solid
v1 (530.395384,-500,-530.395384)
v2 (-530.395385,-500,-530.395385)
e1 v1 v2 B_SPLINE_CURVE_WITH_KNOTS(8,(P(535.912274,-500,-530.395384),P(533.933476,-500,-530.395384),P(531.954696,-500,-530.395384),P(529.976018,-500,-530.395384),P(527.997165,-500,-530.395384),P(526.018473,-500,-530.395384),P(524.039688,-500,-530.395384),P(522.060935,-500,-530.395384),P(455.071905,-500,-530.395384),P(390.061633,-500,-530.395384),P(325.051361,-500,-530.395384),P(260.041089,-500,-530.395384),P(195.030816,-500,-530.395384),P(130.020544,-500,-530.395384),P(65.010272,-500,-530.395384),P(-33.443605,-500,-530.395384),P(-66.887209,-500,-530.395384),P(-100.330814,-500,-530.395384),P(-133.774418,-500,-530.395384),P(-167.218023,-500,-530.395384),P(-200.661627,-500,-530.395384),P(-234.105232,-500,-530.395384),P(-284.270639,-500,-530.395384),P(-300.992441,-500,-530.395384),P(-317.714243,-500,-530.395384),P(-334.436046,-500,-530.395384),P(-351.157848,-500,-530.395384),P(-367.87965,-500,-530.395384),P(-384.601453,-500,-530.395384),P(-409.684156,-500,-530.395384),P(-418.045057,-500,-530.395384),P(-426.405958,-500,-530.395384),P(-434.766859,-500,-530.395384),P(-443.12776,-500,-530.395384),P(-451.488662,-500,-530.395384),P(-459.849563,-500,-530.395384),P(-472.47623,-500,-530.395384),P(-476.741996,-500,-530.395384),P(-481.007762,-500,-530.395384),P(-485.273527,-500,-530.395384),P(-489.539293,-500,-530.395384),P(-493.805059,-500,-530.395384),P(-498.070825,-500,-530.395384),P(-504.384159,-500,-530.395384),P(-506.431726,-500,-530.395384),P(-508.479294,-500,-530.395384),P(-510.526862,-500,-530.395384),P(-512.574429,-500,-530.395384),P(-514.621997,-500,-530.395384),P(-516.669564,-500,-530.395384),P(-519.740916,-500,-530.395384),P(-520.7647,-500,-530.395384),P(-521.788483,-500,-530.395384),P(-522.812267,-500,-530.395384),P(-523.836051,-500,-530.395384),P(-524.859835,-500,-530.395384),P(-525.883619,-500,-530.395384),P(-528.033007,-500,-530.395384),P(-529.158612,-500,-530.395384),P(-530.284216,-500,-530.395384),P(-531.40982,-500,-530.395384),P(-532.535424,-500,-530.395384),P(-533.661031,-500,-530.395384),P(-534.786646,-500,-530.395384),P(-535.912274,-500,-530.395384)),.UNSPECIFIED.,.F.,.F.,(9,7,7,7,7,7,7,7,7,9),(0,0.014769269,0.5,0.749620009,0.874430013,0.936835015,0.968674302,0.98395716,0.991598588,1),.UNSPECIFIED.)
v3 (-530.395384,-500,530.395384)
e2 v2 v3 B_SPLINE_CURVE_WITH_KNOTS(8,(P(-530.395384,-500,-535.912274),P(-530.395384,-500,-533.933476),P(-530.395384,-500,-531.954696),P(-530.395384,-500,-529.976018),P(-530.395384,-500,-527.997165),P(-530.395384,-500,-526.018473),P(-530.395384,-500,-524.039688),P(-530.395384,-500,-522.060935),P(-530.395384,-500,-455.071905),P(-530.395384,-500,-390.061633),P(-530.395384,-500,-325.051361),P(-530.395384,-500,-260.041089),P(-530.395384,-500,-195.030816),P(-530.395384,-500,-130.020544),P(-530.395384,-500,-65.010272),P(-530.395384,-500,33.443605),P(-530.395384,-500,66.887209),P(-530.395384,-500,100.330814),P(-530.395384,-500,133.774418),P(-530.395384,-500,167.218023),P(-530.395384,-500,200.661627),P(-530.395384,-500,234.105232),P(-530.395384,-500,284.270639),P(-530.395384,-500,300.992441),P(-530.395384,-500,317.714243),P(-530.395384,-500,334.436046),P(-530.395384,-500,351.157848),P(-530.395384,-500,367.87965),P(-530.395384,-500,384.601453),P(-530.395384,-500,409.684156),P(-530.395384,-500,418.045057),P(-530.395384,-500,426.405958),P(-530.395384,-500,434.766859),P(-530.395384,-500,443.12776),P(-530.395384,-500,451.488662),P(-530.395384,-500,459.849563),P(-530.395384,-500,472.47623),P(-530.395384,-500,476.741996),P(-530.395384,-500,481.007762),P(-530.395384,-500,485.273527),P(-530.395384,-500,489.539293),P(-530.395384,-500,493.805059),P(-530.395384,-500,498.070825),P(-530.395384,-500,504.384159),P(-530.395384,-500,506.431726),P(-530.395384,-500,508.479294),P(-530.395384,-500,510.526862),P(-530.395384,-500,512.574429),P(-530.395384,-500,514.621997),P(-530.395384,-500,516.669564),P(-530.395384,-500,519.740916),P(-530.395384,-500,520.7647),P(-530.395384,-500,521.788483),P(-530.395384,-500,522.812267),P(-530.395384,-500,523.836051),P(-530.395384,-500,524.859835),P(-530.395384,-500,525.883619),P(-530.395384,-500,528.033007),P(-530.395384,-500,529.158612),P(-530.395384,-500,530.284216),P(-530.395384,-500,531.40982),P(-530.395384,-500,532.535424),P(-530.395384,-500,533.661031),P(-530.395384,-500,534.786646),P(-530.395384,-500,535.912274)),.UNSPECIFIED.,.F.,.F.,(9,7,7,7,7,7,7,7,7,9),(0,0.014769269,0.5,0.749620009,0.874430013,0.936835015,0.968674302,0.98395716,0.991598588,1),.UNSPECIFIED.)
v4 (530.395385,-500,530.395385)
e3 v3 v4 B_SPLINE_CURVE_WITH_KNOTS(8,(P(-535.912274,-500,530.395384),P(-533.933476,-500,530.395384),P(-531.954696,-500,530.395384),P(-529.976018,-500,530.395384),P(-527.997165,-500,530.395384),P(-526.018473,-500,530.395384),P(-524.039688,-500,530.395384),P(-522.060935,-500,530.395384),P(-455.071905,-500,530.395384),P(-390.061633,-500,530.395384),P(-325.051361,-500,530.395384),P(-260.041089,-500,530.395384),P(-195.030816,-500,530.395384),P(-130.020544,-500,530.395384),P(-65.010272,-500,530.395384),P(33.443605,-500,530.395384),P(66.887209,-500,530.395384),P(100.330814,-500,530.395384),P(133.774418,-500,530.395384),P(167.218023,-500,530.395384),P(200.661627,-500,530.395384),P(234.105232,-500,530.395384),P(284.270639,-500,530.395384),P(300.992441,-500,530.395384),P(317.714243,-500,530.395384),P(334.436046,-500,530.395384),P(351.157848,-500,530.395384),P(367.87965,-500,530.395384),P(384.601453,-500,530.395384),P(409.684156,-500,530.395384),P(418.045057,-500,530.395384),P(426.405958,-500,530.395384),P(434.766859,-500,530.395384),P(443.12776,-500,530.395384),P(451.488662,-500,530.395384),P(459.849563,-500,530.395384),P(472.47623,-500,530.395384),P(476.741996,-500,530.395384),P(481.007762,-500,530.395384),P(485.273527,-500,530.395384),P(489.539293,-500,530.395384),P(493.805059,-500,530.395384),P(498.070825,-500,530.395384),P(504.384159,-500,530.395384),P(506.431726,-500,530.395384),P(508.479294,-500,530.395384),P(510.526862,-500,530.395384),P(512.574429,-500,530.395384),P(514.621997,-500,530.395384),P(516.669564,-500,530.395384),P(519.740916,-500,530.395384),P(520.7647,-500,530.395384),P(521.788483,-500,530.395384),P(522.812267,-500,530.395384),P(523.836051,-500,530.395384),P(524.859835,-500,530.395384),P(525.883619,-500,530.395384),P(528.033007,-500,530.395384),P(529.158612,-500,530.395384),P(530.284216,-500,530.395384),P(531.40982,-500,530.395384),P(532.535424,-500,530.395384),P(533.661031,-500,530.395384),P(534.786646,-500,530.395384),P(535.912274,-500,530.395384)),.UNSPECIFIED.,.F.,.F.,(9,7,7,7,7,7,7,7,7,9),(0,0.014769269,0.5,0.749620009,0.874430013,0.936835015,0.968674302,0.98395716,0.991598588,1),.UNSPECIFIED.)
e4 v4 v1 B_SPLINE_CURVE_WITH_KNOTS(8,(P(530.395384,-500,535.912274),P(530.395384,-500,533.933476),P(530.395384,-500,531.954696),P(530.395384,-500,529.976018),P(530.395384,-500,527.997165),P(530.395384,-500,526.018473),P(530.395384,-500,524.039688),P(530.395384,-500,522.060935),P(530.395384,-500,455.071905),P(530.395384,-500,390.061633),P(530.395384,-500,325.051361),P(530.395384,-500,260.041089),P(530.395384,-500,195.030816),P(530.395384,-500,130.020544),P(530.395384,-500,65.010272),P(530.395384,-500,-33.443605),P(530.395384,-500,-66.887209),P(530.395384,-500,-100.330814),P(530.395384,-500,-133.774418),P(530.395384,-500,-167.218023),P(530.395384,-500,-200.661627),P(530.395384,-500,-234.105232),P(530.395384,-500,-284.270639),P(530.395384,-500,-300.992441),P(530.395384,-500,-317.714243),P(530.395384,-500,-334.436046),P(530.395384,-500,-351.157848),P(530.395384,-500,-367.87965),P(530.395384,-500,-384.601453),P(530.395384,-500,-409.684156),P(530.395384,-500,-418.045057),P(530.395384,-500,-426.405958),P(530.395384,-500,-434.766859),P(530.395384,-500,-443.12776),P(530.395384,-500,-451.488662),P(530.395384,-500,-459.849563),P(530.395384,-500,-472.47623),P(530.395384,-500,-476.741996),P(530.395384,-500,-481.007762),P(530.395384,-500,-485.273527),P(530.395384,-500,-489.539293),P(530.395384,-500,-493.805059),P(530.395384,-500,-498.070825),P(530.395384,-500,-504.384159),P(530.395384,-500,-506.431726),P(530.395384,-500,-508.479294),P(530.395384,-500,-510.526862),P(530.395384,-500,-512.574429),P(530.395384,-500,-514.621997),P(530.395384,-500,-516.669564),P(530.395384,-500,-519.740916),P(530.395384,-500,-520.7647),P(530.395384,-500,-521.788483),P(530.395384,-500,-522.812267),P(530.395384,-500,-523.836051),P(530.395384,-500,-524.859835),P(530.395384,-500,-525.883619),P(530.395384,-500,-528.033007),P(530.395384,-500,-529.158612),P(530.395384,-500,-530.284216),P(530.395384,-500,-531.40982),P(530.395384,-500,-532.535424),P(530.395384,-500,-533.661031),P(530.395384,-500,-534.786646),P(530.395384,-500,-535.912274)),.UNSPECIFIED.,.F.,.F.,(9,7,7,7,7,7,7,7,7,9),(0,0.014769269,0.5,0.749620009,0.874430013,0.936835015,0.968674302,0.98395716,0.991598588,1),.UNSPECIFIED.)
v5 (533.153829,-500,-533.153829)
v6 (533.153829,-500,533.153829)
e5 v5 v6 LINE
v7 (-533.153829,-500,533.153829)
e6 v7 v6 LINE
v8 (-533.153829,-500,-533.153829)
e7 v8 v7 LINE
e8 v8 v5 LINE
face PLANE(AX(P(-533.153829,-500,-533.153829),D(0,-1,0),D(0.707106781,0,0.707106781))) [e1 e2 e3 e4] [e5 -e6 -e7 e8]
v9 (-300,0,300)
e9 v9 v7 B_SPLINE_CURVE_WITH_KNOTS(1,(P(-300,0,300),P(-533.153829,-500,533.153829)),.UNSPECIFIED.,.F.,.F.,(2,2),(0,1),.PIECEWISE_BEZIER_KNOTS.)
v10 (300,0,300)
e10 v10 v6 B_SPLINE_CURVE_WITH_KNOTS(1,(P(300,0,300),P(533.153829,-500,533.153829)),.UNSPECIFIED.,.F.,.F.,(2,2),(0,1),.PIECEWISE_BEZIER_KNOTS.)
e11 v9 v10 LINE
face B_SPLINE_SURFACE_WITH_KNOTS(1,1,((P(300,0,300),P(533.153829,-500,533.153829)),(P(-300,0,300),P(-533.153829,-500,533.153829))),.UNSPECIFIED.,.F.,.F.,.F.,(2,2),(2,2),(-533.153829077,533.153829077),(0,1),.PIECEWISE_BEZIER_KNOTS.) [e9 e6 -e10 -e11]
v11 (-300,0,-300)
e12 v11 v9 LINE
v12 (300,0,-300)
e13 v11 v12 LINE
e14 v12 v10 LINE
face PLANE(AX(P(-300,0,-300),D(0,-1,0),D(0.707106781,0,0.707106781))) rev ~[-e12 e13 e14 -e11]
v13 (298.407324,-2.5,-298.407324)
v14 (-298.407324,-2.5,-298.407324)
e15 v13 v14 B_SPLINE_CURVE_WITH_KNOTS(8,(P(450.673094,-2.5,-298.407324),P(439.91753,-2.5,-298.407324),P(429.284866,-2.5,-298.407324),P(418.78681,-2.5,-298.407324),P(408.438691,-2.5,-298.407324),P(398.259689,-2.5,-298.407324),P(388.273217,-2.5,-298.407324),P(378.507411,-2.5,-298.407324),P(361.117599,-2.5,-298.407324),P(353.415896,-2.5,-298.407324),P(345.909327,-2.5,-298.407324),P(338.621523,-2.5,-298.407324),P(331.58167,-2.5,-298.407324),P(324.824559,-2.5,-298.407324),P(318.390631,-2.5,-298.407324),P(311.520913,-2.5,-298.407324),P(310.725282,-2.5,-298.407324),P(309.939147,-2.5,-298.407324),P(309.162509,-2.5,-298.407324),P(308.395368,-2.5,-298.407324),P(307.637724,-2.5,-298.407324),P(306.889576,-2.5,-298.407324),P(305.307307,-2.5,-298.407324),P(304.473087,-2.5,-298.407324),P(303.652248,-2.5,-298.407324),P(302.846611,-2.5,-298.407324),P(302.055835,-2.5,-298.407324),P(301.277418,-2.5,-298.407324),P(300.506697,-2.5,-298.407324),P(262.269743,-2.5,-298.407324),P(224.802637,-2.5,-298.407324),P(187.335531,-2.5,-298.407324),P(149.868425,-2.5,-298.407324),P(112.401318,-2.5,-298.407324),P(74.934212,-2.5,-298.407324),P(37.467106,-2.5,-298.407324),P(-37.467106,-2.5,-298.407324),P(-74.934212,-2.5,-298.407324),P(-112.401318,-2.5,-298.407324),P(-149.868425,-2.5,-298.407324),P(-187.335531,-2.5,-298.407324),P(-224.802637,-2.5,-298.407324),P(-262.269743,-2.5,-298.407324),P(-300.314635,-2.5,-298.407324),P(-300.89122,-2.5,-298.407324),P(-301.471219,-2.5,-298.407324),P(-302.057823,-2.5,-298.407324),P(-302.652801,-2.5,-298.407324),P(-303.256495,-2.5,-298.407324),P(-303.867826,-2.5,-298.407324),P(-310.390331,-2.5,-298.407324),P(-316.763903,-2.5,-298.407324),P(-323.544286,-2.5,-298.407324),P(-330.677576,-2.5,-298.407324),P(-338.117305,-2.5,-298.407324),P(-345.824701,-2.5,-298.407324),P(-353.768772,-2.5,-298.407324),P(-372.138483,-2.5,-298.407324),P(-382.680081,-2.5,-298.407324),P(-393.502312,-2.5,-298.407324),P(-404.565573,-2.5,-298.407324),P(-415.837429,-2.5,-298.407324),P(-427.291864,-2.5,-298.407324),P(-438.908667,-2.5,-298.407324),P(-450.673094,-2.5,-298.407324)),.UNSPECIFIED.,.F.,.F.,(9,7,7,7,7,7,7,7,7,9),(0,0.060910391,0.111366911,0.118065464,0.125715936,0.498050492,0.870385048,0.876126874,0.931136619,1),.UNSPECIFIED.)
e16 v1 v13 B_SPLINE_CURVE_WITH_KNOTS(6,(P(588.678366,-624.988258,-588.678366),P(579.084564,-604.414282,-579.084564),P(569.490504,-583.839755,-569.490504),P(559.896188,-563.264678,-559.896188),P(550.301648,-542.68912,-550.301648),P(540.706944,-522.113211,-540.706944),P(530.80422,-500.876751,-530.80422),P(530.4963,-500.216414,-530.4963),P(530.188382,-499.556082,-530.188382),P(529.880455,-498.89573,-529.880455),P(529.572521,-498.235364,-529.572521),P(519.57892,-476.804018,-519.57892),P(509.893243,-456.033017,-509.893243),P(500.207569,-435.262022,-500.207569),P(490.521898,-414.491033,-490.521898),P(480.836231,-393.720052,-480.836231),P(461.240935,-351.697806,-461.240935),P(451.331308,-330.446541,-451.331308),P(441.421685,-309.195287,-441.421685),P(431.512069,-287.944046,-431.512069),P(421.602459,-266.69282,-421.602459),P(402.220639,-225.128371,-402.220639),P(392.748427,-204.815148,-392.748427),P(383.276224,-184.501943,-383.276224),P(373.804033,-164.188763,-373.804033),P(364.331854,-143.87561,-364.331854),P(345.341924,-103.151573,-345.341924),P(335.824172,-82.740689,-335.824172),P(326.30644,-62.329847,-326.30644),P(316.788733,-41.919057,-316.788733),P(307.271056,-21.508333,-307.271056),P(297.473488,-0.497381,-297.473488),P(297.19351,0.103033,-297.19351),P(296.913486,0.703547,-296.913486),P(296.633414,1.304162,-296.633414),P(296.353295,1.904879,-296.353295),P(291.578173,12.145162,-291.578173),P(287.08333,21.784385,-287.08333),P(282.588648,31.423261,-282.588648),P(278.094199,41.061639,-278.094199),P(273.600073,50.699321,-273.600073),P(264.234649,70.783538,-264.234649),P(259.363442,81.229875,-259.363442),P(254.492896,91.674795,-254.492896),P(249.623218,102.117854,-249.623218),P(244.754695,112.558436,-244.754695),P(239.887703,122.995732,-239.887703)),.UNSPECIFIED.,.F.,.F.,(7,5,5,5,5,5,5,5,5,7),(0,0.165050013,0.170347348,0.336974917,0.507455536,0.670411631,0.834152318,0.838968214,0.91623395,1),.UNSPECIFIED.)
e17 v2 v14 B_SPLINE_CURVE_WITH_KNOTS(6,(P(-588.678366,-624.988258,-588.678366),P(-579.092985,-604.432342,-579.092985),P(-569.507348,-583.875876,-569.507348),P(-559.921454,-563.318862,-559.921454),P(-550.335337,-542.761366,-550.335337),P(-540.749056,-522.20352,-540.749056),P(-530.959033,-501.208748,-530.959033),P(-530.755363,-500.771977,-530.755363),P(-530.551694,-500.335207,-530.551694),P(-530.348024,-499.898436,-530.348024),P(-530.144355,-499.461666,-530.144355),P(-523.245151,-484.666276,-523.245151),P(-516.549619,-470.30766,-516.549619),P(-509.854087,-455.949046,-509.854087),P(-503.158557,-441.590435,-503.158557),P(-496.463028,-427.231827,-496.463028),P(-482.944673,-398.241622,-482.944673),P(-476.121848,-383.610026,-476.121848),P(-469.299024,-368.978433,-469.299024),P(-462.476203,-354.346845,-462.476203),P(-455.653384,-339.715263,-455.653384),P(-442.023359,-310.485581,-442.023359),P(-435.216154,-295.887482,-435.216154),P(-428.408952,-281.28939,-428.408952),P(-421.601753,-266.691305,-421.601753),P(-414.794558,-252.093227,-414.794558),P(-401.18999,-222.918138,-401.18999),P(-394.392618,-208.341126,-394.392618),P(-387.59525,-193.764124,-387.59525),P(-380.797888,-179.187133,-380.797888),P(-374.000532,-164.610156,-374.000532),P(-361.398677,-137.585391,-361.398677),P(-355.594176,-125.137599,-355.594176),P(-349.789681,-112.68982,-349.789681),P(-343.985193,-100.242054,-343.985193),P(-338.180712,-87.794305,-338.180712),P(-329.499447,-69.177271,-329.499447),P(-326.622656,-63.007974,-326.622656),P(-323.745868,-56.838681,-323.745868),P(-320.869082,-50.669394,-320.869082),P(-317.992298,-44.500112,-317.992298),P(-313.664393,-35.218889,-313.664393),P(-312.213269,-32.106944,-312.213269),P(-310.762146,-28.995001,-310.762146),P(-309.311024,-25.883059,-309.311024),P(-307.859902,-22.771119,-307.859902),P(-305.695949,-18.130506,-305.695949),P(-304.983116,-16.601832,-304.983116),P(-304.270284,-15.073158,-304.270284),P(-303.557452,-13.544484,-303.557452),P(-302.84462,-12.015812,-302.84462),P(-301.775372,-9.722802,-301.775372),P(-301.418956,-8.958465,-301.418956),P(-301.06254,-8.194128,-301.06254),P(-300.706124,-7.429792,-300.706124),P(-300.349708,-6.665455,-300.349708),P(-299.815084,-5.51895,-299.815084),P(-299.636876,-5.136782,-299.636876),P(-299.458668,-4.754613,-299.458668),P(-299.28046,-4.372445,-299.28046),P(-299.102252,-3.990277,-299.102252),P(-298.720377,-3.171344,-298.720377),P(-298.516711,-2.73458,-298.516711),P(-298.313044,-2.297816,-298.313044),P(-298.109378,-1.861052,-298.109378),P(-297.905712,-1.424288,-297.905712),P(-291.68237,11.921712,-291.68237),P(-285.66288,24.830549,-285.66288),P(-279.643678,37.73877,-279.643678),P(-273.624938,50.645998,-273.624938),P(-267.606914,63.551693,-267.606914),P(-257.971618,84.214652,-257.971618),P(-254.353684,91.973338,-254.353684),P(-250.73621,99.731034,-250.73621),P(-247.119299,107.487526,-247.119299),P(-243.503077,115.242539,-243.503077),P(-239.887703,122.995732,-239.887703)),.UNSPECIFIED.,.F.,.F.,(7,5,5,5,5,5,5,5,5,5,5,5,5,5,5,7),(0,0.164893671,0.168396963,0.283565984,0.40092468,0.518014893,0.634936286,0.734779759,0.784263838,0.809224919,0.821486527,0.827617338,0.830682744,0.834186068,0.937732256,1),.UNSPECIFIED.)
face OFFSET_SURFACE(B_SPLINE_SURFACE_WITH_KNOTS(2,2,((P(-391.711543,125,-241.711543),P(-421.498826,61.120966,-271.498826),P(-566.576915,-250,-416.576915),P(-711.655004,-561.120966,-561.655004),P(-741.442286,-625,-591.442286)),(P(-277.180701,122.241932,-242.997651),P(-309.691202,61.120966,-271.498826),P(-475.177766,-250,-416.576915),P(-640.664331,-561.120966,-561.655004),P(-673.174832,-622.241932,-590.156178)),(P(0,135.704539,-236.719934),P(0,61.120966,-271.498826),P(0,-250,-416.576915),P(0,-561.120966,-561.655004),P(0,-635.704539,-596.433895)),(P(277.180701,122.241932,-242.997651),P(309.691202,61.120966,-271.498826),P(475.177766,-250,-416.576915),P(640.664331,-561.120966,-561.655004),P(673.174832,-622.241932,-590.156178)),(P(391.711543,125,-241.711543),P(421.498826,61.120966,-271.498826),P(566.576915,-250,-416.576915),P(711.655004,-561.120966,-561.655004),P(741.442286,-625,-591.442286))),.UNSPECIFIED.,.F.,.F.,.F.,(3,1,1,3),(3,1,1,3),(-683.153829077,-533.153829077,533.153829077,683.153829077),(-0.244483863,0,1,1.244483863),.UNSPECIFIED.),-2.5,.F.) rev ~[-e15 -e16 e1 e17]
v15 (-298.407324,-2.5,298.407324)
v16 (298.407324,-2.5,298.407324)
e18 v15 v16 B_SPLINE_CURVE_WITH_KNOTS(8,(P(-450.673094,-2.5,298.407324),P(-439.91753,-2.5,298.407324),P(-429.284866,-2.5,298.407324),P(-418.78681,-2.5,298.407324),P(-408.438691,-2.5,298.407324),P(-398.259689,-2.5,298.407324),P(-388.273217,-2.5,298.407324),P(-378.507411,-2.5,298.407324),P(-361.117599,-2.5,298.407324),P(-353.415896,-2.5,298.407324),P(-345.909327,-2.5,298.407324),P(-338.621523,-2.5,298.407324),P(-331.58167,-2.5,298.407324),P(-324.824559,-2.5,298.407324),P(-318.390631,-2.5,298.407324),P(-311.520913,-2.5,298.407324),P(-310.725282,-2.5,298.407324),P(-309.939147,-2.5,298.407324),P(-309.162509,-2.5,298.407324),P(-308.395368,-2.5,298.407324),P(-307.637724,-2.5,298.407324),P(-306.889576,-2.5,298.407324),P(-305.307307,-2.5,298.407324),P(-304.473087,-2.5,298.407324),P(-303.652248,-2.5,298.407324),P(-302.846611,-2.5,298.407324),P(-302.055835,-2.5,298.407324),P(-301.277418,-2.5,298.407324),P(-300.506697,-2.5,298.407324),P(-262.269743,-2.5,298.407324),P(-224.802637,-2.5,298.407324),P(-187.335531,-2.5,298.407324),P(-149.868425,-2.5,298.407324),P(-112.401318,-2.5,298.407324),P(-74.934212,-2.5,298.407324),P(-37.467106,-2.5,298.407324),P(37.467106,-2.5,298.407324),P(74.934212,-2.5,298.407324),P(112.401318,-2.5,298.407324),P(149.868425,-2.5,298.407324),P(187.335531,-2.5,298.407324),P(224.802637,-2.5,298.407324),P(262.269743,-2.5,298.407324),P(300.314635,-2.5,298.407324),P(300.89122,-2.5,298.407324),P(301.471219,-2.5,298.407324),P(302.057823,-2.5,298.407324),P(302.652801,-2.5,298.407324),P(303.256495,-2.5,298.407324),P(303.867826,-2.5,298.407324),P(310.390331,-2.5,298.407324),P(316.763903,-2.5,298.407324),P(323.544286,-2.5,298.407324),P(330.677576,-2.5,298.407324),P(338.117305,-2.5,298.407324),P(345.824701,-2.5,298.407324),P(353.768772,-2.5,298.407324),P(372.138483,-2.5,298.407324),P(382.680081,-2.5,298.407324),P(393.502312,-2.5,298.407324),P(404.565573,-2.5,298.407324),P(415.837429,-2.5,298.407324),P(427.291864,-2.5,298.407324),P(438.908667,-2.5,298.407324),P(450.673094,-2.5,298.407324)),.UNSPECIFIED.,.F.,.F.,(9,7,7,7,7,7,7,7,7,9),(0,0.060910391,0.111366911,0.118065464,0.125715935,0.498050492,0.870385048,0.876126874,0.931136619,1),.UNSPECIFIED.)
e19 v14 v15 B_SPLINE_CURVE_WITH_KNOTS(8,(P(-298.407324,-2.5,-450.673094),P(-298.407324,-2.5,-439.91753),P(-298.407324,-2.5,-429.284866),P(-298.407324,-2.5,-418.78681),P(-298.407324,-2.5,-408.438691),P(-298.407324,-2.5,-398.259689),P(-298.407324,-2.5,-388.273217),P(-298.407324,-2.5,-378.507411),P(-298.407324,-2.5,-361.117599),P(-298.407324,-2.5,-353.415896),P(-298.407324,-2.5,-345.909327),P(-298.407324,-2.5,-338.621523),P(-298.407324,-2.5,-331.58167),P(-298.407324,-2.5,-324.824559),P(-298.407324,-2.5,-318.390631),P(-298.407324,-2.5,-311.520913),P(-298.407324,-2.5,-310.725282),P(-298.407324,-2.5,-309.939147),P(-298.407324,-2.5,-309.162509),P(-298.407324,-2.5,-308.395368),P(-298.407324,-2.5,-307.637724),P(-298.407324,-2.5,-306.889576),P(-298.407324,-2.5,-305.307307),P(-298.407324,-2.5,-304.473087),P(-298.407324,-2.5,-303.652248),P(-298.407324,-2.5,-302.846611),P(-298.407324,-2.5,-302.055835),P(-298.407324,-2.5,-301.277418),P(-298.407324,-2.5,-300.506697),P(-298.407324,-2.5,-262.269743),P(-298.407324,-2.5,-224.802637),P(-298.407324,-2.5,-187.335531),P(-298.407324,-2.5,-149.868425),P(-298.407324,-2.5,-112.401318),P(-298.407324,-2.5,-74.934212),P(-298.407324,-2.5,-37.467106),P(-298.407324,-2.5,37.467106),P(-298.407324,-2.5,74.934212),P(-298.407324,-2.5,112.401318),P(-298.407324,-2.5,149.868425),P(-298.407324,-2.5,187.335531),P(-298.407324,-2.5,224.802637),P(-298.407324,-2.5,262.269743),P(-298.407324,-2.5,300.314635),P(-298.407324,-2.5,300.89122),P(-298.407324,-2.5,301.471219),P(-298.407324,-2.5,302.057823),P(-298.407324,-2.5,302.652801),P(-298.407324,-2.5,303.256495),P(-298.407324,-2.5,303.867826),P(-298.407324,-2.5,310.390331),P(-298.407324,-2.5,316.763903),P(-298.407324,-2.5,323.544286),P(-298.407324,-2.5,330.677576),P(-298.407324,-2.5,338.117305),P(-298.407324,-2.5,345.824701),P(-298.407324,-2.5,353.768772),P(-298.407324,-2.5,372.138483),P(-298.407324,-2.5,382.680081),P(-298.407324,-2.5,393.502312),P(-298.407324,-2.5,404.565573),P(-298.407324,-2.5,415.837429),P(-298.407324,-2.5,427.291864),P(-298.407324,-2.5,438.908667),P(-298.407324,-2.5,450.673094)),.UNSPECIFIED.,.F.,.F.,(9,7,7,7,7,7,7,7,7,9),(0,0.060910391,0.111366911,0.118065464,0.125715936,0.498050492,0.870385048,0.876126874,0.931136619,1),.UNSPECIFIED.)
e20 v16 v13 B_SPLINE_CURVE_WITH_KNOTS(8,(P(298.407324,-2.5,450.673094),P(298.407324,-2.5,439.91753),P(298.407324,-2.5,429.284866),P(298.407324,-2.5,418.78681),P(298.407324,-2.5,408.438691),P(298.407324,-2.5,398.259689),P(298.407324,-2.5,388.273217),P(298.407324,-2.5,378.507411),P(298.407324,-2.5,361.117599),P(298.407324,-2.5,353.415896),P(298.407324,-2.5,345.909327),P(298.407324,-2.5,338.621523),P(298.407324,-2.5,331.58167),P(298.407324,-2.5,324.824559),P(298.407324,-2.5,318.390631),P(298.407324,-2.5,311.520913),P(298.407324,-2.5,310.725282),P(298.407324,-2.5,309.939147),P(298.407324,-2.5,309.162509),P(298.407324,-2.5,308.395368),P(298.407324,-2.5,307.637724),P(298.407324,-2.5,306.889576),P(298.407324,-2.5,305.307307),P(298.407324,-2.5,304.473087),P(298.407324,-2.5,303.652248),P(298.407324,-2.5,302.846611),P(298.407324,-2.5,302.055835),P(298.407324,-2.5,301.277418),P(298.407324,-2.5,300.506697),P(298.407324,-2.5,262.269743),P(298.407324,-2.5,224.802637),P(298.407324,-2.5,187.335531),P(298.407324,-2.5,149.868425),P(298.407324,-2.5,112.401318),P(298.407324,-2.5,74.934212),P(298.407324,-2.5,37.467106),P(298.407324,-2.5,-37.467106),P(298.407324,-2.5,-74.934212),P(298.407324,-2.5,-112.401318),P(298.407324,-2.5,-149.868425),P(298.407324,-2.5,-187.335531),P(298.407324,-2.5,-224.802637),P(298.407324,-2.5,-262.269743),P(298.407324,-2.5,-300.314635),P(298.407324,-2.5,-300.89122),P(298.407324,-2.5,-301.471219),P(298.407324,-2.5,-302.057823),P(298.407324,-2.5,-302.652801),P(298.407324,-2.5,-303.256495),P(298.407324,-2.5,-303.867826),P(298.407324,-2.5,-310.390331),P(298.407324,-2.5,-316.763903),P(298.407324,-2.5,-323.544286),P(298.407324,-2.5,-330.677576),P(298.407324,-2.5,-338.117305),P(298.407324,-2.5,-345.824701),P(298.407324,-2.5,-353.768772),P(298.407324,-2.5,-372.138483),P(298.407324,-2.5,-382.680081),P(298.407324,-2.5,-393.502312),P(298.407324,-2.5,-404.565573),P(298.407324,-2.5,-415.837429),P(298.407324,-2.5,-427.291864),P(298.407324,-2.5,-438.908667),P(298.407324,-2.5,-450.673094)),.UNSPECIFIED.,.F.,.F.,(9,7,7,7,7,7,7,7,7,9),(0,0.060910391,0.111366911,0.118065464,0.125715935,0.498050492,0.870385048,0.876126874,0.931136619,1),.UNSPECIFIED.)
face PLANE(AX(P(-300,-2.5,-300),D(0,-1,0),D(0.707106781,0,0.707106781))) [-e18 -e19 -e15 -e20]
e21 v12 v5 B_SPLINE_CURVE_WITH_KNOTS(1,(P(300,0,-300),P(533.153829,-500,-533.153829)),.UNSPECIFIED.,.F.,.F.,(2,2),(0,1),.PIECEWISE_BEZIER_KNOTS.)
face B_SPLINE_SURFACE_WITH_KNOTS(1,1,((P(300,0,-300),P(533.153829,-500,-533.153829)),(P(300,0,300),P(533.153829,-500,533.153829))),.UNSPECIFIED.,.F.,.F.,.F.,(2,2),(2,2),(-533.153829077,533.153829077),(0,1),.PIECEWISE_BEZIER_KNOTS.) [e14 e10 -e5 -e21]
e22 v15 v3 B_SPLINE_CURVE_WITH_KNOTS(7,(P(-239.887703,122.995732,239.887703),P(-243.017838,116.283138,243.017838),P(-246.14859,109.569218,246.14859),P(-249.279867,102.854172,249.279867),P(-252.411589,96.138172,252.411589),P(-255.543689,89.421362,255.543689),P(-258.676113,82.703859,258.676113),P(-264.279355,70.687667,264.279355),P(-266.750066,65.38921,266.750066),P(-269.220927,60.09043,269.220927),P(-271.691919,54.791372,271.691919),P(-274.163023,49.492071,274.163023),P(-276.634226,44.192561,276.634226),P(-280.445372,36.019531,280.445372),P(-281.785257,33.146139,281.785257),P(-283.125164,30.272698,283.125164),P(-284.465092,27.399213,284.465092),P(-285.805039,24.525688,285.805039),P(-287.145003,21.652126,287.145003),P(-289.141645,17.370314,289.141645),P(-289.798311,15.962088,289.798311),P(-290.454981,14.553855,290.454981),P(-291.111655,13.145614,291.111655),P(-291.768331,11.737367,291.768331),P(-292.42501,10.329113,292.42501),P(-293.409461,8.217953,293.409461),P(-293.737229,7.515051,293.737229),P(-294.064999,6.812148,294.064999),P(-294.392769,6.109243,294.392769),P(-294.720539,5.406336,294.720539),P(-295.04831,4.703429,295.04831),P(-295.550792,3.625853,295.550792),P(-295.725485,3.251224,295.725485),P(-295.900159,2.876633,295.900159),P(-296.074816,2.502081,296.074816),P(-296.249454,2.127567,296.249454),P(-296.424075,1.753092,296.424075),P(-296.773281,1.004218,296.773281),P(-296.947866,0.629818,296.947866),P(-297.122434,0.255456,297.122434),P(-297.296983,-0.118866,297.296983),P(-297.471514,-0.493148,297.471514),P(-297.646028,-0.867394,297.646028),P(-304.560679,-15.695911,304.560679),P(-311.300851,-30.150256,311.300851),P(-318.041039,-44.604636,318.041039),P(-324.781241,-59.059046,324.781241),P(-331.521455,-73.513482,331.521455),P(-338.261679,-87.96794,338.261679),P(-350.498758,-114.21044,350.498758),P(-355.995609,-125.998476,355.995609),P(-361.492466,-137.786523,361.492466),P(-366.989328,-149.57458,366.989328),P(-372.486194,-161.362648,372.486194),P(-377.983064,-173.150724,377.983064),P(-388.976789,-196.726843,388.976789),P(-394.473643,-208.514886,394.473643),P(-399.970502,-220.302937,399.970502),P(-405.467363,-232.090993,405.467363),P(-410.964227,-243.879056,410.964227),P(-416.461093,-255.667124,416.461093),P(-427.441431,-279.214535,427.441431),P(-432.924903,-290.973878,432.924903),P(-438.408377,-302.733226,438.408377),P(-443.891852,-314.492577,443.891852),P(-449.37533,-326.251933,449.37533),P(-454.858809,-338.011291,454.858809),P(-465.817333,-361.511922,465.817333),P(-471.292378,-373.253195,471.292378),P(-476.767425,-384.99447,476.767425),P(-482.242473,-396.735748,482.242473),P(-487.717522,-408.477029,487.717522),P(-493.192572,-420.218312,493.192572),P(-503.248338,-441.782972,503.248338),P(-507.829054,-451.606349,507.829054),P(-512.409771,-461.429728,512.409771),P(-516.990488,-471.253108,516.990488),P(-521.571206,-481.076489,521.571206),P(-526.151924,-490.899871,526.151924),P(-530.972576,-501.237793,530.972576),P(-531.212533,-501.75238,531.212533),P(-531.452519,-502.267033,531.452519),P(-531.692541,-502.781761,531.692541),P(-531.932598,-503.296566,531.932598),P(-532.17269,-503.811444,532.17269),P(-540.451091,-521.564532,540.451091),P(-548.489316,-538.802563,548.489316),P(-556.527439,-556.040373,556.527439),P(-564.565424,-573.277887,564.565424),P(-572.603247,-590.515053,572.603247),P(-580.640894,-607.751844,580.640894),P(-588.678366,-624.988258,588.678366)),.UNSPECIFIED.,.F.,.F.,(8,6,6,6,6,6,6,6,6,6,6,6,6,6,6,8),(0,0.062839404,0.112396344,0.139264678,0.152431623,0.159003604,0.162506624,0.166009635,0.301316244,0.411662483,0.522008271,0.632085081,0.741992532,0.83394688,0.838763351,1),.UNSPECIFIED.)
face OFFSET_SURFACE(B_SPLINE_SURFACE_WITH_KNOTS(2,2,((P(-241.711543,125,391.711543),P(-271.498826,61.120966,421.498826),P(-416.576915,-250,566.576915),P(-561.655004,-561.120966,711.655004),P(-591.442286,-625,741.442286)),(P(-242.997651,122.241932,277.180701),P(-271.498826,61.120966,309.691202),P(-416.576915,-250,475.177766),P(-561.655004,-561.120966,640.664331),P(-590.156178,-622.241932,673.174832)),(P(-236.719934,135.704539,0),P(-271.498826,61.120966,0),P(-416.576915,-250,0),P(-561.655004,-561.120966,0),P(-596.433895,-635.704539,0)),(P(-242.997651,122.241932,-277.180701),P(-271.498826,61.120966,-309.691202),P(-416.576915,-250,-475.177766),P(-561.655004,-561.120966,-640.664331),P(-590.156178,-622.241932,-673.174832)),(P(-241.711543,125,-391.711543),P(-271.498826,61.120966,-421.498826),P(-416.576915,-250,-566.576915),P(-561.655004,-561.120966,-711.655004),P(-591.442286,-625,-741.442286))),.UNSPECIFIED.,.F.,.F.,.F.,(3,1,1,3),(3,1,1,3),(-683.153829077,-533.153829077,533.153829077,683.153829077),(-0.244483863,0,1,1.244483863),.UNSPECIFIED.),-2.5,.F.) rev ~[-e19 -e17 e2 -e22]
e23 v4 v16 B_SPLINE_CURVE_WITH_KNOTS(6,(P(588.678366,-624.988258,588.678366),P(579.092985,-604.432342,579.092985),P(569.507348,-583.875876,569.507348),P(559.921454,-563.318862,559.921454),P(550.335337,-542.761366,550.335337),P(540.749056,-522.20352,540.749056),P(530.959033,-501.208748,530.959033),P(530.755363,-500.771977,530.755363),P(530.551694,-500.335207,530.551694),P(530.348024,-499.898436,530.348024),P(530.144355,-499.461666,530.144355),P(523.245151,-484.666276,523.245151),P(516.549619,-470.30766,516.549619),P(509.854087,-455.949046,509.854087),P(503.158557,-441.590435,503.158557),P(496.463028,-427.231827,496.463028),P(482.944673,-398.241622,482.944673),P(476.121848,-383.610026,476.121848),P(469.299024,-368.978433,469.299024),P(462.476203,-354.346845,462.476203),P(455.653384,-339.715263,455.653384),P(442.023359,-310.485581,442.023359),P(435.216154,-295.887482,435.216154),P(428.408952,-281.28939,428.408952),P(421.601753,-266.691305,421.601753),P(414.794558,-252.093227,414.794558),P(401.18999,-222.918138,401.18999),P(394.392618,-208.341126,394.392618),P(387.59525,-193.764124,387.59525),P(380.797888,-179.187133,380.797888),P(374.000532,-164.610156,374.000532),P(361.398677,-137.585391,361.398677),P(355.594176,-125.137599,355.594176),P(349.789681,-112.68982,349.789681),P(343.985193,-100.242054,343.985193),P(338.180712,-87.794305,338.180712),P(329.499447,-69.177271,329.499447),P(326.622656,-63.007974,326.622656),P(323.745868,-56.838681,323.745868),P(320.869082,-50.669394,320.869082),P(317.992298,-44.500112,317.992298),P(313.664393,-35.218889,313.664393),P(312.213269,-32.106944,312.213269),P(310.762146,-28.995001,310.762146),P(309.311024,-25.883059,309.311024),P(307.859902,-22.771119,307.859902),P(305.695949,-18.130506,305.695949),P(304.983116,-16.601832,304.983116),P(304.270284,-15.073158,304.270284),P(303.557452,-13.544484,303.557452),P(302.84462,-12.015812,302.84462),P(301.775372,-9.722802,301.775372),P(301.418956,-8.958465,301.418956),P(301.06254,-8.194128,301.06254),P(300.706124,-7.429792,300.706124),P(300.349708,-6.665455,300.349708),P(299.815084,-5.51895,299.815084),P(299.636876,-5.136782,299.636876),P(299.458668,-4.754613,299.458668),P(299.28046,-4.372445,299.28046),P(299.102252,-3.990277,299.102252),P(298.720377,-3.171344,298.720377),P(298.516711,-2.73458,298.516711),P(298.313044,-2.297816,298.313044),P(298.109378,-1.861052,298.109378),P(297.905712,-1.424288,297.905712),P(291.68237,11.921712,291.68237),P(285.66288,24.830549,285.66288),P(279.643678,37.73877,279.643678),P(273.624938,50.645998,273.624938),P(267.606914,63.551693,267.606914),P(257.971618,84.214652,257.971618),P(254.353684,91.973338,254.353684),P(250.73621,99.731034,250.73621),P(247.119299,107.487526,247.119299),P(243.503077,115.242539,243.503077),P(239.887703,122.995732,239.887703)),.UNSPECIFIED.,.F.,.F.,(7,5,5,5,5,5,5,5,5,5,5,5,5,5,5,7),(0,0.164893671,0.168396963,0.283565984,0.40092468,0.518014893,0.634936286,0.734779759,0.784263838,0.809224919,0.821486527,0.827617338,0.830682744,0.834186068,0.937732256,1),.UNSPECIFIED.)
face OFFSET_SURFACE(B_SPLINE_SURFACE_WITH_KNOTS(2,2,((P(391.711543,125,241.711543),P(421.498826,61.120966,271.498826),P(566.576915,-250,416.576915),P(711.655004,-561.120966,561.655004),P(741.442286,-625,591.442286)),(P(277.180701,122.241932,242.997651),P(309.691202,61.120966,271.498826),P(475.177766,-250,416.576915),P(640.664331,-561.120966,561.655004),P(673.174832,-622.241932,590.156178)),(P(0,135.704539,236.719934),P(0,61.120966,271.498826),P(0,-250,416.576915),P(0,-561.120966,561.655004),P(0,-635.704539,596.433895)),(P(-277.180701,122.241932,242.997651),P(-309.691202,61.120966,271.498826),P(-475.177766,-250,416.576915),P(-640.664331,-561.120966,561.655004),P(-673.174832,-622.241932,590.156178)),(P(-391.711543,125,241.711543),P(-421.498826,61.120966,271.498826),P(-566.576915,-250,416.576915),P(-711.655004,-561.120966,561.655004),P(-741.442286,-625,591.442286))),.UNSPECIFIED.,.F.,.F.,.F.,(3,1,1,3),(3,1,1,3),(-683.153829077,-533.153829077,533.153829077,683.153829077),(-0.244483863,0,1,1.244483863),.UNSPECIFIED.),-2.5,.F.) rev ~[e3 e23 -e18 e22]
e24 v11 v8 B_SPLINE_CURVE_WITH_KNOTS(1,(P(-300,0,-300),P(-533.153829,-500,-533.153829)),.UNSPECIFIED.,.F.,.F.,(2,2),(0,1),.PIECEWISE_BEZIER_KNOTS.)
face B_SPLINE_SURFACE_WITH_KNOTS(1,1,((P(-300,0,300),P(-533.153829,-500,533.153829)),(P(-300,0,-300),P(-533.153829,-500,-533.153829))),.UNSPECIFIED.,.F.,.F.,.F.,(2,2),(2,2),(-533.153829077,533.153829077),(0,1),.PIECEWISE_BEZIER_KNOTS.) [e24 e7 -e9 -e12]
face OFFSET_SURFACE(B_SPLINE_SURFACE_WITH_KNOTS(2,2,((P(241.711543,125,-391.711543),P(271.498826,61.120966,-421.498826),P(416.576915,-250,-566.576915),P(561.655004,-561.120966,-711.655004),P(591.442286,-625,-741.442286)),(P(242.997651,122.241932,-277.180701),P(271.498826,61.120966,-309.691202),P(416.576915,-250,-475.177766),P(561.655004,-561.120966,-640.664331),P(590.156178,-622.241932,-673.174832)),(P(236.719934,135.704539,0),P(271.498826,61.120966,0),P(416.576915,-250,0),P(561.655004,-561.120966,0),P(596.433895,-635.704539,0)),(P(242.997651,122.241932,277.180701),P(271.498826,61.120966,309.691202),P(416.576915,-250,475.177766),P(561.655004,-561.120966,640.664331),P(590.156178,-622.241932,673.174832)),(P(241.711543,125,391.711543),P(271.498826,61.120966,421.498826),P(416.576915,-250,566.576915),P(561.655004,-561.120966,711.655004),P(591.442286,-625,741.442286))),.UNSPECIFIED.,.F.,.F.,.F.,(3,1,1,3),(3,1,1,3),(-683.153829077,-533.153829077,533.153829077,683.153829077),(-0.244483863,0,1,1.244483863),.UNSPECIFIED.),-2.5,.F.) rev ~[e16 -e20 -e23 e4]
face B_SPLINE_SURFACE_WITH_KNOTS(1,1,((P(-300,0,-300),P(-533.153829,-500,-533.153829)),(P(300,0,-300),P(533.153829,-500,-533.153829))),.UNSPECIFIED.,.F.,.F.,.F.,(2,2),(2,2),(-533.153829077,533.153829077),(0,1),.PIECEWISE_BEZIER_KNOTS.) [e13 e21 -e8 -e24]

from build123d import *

# Parameters (mm, degrees)
F0_W     = 600
F0_H     = 600
F1_DEPTH = 500
F1_TAPER = -25
F2_T     = -2.5


with BuildPart() as f1:
    # F0 (on Front) → F1 (new body)
    with BuildSketch(Plane.XZ):
        Rectangle(F0_W, F0_H)
    extrude(amount=F1_DEPTH, taper=F1_TAPER)

    # F2
    f2_openings = [f1.faces().sort_by_distance(p)[0] for p in [
        (0, -500, 0),
    ]]
    offset(amount=F2_T, openings=f2_openings, kind=Kind.INTERSECTION)


solid = f1.part
